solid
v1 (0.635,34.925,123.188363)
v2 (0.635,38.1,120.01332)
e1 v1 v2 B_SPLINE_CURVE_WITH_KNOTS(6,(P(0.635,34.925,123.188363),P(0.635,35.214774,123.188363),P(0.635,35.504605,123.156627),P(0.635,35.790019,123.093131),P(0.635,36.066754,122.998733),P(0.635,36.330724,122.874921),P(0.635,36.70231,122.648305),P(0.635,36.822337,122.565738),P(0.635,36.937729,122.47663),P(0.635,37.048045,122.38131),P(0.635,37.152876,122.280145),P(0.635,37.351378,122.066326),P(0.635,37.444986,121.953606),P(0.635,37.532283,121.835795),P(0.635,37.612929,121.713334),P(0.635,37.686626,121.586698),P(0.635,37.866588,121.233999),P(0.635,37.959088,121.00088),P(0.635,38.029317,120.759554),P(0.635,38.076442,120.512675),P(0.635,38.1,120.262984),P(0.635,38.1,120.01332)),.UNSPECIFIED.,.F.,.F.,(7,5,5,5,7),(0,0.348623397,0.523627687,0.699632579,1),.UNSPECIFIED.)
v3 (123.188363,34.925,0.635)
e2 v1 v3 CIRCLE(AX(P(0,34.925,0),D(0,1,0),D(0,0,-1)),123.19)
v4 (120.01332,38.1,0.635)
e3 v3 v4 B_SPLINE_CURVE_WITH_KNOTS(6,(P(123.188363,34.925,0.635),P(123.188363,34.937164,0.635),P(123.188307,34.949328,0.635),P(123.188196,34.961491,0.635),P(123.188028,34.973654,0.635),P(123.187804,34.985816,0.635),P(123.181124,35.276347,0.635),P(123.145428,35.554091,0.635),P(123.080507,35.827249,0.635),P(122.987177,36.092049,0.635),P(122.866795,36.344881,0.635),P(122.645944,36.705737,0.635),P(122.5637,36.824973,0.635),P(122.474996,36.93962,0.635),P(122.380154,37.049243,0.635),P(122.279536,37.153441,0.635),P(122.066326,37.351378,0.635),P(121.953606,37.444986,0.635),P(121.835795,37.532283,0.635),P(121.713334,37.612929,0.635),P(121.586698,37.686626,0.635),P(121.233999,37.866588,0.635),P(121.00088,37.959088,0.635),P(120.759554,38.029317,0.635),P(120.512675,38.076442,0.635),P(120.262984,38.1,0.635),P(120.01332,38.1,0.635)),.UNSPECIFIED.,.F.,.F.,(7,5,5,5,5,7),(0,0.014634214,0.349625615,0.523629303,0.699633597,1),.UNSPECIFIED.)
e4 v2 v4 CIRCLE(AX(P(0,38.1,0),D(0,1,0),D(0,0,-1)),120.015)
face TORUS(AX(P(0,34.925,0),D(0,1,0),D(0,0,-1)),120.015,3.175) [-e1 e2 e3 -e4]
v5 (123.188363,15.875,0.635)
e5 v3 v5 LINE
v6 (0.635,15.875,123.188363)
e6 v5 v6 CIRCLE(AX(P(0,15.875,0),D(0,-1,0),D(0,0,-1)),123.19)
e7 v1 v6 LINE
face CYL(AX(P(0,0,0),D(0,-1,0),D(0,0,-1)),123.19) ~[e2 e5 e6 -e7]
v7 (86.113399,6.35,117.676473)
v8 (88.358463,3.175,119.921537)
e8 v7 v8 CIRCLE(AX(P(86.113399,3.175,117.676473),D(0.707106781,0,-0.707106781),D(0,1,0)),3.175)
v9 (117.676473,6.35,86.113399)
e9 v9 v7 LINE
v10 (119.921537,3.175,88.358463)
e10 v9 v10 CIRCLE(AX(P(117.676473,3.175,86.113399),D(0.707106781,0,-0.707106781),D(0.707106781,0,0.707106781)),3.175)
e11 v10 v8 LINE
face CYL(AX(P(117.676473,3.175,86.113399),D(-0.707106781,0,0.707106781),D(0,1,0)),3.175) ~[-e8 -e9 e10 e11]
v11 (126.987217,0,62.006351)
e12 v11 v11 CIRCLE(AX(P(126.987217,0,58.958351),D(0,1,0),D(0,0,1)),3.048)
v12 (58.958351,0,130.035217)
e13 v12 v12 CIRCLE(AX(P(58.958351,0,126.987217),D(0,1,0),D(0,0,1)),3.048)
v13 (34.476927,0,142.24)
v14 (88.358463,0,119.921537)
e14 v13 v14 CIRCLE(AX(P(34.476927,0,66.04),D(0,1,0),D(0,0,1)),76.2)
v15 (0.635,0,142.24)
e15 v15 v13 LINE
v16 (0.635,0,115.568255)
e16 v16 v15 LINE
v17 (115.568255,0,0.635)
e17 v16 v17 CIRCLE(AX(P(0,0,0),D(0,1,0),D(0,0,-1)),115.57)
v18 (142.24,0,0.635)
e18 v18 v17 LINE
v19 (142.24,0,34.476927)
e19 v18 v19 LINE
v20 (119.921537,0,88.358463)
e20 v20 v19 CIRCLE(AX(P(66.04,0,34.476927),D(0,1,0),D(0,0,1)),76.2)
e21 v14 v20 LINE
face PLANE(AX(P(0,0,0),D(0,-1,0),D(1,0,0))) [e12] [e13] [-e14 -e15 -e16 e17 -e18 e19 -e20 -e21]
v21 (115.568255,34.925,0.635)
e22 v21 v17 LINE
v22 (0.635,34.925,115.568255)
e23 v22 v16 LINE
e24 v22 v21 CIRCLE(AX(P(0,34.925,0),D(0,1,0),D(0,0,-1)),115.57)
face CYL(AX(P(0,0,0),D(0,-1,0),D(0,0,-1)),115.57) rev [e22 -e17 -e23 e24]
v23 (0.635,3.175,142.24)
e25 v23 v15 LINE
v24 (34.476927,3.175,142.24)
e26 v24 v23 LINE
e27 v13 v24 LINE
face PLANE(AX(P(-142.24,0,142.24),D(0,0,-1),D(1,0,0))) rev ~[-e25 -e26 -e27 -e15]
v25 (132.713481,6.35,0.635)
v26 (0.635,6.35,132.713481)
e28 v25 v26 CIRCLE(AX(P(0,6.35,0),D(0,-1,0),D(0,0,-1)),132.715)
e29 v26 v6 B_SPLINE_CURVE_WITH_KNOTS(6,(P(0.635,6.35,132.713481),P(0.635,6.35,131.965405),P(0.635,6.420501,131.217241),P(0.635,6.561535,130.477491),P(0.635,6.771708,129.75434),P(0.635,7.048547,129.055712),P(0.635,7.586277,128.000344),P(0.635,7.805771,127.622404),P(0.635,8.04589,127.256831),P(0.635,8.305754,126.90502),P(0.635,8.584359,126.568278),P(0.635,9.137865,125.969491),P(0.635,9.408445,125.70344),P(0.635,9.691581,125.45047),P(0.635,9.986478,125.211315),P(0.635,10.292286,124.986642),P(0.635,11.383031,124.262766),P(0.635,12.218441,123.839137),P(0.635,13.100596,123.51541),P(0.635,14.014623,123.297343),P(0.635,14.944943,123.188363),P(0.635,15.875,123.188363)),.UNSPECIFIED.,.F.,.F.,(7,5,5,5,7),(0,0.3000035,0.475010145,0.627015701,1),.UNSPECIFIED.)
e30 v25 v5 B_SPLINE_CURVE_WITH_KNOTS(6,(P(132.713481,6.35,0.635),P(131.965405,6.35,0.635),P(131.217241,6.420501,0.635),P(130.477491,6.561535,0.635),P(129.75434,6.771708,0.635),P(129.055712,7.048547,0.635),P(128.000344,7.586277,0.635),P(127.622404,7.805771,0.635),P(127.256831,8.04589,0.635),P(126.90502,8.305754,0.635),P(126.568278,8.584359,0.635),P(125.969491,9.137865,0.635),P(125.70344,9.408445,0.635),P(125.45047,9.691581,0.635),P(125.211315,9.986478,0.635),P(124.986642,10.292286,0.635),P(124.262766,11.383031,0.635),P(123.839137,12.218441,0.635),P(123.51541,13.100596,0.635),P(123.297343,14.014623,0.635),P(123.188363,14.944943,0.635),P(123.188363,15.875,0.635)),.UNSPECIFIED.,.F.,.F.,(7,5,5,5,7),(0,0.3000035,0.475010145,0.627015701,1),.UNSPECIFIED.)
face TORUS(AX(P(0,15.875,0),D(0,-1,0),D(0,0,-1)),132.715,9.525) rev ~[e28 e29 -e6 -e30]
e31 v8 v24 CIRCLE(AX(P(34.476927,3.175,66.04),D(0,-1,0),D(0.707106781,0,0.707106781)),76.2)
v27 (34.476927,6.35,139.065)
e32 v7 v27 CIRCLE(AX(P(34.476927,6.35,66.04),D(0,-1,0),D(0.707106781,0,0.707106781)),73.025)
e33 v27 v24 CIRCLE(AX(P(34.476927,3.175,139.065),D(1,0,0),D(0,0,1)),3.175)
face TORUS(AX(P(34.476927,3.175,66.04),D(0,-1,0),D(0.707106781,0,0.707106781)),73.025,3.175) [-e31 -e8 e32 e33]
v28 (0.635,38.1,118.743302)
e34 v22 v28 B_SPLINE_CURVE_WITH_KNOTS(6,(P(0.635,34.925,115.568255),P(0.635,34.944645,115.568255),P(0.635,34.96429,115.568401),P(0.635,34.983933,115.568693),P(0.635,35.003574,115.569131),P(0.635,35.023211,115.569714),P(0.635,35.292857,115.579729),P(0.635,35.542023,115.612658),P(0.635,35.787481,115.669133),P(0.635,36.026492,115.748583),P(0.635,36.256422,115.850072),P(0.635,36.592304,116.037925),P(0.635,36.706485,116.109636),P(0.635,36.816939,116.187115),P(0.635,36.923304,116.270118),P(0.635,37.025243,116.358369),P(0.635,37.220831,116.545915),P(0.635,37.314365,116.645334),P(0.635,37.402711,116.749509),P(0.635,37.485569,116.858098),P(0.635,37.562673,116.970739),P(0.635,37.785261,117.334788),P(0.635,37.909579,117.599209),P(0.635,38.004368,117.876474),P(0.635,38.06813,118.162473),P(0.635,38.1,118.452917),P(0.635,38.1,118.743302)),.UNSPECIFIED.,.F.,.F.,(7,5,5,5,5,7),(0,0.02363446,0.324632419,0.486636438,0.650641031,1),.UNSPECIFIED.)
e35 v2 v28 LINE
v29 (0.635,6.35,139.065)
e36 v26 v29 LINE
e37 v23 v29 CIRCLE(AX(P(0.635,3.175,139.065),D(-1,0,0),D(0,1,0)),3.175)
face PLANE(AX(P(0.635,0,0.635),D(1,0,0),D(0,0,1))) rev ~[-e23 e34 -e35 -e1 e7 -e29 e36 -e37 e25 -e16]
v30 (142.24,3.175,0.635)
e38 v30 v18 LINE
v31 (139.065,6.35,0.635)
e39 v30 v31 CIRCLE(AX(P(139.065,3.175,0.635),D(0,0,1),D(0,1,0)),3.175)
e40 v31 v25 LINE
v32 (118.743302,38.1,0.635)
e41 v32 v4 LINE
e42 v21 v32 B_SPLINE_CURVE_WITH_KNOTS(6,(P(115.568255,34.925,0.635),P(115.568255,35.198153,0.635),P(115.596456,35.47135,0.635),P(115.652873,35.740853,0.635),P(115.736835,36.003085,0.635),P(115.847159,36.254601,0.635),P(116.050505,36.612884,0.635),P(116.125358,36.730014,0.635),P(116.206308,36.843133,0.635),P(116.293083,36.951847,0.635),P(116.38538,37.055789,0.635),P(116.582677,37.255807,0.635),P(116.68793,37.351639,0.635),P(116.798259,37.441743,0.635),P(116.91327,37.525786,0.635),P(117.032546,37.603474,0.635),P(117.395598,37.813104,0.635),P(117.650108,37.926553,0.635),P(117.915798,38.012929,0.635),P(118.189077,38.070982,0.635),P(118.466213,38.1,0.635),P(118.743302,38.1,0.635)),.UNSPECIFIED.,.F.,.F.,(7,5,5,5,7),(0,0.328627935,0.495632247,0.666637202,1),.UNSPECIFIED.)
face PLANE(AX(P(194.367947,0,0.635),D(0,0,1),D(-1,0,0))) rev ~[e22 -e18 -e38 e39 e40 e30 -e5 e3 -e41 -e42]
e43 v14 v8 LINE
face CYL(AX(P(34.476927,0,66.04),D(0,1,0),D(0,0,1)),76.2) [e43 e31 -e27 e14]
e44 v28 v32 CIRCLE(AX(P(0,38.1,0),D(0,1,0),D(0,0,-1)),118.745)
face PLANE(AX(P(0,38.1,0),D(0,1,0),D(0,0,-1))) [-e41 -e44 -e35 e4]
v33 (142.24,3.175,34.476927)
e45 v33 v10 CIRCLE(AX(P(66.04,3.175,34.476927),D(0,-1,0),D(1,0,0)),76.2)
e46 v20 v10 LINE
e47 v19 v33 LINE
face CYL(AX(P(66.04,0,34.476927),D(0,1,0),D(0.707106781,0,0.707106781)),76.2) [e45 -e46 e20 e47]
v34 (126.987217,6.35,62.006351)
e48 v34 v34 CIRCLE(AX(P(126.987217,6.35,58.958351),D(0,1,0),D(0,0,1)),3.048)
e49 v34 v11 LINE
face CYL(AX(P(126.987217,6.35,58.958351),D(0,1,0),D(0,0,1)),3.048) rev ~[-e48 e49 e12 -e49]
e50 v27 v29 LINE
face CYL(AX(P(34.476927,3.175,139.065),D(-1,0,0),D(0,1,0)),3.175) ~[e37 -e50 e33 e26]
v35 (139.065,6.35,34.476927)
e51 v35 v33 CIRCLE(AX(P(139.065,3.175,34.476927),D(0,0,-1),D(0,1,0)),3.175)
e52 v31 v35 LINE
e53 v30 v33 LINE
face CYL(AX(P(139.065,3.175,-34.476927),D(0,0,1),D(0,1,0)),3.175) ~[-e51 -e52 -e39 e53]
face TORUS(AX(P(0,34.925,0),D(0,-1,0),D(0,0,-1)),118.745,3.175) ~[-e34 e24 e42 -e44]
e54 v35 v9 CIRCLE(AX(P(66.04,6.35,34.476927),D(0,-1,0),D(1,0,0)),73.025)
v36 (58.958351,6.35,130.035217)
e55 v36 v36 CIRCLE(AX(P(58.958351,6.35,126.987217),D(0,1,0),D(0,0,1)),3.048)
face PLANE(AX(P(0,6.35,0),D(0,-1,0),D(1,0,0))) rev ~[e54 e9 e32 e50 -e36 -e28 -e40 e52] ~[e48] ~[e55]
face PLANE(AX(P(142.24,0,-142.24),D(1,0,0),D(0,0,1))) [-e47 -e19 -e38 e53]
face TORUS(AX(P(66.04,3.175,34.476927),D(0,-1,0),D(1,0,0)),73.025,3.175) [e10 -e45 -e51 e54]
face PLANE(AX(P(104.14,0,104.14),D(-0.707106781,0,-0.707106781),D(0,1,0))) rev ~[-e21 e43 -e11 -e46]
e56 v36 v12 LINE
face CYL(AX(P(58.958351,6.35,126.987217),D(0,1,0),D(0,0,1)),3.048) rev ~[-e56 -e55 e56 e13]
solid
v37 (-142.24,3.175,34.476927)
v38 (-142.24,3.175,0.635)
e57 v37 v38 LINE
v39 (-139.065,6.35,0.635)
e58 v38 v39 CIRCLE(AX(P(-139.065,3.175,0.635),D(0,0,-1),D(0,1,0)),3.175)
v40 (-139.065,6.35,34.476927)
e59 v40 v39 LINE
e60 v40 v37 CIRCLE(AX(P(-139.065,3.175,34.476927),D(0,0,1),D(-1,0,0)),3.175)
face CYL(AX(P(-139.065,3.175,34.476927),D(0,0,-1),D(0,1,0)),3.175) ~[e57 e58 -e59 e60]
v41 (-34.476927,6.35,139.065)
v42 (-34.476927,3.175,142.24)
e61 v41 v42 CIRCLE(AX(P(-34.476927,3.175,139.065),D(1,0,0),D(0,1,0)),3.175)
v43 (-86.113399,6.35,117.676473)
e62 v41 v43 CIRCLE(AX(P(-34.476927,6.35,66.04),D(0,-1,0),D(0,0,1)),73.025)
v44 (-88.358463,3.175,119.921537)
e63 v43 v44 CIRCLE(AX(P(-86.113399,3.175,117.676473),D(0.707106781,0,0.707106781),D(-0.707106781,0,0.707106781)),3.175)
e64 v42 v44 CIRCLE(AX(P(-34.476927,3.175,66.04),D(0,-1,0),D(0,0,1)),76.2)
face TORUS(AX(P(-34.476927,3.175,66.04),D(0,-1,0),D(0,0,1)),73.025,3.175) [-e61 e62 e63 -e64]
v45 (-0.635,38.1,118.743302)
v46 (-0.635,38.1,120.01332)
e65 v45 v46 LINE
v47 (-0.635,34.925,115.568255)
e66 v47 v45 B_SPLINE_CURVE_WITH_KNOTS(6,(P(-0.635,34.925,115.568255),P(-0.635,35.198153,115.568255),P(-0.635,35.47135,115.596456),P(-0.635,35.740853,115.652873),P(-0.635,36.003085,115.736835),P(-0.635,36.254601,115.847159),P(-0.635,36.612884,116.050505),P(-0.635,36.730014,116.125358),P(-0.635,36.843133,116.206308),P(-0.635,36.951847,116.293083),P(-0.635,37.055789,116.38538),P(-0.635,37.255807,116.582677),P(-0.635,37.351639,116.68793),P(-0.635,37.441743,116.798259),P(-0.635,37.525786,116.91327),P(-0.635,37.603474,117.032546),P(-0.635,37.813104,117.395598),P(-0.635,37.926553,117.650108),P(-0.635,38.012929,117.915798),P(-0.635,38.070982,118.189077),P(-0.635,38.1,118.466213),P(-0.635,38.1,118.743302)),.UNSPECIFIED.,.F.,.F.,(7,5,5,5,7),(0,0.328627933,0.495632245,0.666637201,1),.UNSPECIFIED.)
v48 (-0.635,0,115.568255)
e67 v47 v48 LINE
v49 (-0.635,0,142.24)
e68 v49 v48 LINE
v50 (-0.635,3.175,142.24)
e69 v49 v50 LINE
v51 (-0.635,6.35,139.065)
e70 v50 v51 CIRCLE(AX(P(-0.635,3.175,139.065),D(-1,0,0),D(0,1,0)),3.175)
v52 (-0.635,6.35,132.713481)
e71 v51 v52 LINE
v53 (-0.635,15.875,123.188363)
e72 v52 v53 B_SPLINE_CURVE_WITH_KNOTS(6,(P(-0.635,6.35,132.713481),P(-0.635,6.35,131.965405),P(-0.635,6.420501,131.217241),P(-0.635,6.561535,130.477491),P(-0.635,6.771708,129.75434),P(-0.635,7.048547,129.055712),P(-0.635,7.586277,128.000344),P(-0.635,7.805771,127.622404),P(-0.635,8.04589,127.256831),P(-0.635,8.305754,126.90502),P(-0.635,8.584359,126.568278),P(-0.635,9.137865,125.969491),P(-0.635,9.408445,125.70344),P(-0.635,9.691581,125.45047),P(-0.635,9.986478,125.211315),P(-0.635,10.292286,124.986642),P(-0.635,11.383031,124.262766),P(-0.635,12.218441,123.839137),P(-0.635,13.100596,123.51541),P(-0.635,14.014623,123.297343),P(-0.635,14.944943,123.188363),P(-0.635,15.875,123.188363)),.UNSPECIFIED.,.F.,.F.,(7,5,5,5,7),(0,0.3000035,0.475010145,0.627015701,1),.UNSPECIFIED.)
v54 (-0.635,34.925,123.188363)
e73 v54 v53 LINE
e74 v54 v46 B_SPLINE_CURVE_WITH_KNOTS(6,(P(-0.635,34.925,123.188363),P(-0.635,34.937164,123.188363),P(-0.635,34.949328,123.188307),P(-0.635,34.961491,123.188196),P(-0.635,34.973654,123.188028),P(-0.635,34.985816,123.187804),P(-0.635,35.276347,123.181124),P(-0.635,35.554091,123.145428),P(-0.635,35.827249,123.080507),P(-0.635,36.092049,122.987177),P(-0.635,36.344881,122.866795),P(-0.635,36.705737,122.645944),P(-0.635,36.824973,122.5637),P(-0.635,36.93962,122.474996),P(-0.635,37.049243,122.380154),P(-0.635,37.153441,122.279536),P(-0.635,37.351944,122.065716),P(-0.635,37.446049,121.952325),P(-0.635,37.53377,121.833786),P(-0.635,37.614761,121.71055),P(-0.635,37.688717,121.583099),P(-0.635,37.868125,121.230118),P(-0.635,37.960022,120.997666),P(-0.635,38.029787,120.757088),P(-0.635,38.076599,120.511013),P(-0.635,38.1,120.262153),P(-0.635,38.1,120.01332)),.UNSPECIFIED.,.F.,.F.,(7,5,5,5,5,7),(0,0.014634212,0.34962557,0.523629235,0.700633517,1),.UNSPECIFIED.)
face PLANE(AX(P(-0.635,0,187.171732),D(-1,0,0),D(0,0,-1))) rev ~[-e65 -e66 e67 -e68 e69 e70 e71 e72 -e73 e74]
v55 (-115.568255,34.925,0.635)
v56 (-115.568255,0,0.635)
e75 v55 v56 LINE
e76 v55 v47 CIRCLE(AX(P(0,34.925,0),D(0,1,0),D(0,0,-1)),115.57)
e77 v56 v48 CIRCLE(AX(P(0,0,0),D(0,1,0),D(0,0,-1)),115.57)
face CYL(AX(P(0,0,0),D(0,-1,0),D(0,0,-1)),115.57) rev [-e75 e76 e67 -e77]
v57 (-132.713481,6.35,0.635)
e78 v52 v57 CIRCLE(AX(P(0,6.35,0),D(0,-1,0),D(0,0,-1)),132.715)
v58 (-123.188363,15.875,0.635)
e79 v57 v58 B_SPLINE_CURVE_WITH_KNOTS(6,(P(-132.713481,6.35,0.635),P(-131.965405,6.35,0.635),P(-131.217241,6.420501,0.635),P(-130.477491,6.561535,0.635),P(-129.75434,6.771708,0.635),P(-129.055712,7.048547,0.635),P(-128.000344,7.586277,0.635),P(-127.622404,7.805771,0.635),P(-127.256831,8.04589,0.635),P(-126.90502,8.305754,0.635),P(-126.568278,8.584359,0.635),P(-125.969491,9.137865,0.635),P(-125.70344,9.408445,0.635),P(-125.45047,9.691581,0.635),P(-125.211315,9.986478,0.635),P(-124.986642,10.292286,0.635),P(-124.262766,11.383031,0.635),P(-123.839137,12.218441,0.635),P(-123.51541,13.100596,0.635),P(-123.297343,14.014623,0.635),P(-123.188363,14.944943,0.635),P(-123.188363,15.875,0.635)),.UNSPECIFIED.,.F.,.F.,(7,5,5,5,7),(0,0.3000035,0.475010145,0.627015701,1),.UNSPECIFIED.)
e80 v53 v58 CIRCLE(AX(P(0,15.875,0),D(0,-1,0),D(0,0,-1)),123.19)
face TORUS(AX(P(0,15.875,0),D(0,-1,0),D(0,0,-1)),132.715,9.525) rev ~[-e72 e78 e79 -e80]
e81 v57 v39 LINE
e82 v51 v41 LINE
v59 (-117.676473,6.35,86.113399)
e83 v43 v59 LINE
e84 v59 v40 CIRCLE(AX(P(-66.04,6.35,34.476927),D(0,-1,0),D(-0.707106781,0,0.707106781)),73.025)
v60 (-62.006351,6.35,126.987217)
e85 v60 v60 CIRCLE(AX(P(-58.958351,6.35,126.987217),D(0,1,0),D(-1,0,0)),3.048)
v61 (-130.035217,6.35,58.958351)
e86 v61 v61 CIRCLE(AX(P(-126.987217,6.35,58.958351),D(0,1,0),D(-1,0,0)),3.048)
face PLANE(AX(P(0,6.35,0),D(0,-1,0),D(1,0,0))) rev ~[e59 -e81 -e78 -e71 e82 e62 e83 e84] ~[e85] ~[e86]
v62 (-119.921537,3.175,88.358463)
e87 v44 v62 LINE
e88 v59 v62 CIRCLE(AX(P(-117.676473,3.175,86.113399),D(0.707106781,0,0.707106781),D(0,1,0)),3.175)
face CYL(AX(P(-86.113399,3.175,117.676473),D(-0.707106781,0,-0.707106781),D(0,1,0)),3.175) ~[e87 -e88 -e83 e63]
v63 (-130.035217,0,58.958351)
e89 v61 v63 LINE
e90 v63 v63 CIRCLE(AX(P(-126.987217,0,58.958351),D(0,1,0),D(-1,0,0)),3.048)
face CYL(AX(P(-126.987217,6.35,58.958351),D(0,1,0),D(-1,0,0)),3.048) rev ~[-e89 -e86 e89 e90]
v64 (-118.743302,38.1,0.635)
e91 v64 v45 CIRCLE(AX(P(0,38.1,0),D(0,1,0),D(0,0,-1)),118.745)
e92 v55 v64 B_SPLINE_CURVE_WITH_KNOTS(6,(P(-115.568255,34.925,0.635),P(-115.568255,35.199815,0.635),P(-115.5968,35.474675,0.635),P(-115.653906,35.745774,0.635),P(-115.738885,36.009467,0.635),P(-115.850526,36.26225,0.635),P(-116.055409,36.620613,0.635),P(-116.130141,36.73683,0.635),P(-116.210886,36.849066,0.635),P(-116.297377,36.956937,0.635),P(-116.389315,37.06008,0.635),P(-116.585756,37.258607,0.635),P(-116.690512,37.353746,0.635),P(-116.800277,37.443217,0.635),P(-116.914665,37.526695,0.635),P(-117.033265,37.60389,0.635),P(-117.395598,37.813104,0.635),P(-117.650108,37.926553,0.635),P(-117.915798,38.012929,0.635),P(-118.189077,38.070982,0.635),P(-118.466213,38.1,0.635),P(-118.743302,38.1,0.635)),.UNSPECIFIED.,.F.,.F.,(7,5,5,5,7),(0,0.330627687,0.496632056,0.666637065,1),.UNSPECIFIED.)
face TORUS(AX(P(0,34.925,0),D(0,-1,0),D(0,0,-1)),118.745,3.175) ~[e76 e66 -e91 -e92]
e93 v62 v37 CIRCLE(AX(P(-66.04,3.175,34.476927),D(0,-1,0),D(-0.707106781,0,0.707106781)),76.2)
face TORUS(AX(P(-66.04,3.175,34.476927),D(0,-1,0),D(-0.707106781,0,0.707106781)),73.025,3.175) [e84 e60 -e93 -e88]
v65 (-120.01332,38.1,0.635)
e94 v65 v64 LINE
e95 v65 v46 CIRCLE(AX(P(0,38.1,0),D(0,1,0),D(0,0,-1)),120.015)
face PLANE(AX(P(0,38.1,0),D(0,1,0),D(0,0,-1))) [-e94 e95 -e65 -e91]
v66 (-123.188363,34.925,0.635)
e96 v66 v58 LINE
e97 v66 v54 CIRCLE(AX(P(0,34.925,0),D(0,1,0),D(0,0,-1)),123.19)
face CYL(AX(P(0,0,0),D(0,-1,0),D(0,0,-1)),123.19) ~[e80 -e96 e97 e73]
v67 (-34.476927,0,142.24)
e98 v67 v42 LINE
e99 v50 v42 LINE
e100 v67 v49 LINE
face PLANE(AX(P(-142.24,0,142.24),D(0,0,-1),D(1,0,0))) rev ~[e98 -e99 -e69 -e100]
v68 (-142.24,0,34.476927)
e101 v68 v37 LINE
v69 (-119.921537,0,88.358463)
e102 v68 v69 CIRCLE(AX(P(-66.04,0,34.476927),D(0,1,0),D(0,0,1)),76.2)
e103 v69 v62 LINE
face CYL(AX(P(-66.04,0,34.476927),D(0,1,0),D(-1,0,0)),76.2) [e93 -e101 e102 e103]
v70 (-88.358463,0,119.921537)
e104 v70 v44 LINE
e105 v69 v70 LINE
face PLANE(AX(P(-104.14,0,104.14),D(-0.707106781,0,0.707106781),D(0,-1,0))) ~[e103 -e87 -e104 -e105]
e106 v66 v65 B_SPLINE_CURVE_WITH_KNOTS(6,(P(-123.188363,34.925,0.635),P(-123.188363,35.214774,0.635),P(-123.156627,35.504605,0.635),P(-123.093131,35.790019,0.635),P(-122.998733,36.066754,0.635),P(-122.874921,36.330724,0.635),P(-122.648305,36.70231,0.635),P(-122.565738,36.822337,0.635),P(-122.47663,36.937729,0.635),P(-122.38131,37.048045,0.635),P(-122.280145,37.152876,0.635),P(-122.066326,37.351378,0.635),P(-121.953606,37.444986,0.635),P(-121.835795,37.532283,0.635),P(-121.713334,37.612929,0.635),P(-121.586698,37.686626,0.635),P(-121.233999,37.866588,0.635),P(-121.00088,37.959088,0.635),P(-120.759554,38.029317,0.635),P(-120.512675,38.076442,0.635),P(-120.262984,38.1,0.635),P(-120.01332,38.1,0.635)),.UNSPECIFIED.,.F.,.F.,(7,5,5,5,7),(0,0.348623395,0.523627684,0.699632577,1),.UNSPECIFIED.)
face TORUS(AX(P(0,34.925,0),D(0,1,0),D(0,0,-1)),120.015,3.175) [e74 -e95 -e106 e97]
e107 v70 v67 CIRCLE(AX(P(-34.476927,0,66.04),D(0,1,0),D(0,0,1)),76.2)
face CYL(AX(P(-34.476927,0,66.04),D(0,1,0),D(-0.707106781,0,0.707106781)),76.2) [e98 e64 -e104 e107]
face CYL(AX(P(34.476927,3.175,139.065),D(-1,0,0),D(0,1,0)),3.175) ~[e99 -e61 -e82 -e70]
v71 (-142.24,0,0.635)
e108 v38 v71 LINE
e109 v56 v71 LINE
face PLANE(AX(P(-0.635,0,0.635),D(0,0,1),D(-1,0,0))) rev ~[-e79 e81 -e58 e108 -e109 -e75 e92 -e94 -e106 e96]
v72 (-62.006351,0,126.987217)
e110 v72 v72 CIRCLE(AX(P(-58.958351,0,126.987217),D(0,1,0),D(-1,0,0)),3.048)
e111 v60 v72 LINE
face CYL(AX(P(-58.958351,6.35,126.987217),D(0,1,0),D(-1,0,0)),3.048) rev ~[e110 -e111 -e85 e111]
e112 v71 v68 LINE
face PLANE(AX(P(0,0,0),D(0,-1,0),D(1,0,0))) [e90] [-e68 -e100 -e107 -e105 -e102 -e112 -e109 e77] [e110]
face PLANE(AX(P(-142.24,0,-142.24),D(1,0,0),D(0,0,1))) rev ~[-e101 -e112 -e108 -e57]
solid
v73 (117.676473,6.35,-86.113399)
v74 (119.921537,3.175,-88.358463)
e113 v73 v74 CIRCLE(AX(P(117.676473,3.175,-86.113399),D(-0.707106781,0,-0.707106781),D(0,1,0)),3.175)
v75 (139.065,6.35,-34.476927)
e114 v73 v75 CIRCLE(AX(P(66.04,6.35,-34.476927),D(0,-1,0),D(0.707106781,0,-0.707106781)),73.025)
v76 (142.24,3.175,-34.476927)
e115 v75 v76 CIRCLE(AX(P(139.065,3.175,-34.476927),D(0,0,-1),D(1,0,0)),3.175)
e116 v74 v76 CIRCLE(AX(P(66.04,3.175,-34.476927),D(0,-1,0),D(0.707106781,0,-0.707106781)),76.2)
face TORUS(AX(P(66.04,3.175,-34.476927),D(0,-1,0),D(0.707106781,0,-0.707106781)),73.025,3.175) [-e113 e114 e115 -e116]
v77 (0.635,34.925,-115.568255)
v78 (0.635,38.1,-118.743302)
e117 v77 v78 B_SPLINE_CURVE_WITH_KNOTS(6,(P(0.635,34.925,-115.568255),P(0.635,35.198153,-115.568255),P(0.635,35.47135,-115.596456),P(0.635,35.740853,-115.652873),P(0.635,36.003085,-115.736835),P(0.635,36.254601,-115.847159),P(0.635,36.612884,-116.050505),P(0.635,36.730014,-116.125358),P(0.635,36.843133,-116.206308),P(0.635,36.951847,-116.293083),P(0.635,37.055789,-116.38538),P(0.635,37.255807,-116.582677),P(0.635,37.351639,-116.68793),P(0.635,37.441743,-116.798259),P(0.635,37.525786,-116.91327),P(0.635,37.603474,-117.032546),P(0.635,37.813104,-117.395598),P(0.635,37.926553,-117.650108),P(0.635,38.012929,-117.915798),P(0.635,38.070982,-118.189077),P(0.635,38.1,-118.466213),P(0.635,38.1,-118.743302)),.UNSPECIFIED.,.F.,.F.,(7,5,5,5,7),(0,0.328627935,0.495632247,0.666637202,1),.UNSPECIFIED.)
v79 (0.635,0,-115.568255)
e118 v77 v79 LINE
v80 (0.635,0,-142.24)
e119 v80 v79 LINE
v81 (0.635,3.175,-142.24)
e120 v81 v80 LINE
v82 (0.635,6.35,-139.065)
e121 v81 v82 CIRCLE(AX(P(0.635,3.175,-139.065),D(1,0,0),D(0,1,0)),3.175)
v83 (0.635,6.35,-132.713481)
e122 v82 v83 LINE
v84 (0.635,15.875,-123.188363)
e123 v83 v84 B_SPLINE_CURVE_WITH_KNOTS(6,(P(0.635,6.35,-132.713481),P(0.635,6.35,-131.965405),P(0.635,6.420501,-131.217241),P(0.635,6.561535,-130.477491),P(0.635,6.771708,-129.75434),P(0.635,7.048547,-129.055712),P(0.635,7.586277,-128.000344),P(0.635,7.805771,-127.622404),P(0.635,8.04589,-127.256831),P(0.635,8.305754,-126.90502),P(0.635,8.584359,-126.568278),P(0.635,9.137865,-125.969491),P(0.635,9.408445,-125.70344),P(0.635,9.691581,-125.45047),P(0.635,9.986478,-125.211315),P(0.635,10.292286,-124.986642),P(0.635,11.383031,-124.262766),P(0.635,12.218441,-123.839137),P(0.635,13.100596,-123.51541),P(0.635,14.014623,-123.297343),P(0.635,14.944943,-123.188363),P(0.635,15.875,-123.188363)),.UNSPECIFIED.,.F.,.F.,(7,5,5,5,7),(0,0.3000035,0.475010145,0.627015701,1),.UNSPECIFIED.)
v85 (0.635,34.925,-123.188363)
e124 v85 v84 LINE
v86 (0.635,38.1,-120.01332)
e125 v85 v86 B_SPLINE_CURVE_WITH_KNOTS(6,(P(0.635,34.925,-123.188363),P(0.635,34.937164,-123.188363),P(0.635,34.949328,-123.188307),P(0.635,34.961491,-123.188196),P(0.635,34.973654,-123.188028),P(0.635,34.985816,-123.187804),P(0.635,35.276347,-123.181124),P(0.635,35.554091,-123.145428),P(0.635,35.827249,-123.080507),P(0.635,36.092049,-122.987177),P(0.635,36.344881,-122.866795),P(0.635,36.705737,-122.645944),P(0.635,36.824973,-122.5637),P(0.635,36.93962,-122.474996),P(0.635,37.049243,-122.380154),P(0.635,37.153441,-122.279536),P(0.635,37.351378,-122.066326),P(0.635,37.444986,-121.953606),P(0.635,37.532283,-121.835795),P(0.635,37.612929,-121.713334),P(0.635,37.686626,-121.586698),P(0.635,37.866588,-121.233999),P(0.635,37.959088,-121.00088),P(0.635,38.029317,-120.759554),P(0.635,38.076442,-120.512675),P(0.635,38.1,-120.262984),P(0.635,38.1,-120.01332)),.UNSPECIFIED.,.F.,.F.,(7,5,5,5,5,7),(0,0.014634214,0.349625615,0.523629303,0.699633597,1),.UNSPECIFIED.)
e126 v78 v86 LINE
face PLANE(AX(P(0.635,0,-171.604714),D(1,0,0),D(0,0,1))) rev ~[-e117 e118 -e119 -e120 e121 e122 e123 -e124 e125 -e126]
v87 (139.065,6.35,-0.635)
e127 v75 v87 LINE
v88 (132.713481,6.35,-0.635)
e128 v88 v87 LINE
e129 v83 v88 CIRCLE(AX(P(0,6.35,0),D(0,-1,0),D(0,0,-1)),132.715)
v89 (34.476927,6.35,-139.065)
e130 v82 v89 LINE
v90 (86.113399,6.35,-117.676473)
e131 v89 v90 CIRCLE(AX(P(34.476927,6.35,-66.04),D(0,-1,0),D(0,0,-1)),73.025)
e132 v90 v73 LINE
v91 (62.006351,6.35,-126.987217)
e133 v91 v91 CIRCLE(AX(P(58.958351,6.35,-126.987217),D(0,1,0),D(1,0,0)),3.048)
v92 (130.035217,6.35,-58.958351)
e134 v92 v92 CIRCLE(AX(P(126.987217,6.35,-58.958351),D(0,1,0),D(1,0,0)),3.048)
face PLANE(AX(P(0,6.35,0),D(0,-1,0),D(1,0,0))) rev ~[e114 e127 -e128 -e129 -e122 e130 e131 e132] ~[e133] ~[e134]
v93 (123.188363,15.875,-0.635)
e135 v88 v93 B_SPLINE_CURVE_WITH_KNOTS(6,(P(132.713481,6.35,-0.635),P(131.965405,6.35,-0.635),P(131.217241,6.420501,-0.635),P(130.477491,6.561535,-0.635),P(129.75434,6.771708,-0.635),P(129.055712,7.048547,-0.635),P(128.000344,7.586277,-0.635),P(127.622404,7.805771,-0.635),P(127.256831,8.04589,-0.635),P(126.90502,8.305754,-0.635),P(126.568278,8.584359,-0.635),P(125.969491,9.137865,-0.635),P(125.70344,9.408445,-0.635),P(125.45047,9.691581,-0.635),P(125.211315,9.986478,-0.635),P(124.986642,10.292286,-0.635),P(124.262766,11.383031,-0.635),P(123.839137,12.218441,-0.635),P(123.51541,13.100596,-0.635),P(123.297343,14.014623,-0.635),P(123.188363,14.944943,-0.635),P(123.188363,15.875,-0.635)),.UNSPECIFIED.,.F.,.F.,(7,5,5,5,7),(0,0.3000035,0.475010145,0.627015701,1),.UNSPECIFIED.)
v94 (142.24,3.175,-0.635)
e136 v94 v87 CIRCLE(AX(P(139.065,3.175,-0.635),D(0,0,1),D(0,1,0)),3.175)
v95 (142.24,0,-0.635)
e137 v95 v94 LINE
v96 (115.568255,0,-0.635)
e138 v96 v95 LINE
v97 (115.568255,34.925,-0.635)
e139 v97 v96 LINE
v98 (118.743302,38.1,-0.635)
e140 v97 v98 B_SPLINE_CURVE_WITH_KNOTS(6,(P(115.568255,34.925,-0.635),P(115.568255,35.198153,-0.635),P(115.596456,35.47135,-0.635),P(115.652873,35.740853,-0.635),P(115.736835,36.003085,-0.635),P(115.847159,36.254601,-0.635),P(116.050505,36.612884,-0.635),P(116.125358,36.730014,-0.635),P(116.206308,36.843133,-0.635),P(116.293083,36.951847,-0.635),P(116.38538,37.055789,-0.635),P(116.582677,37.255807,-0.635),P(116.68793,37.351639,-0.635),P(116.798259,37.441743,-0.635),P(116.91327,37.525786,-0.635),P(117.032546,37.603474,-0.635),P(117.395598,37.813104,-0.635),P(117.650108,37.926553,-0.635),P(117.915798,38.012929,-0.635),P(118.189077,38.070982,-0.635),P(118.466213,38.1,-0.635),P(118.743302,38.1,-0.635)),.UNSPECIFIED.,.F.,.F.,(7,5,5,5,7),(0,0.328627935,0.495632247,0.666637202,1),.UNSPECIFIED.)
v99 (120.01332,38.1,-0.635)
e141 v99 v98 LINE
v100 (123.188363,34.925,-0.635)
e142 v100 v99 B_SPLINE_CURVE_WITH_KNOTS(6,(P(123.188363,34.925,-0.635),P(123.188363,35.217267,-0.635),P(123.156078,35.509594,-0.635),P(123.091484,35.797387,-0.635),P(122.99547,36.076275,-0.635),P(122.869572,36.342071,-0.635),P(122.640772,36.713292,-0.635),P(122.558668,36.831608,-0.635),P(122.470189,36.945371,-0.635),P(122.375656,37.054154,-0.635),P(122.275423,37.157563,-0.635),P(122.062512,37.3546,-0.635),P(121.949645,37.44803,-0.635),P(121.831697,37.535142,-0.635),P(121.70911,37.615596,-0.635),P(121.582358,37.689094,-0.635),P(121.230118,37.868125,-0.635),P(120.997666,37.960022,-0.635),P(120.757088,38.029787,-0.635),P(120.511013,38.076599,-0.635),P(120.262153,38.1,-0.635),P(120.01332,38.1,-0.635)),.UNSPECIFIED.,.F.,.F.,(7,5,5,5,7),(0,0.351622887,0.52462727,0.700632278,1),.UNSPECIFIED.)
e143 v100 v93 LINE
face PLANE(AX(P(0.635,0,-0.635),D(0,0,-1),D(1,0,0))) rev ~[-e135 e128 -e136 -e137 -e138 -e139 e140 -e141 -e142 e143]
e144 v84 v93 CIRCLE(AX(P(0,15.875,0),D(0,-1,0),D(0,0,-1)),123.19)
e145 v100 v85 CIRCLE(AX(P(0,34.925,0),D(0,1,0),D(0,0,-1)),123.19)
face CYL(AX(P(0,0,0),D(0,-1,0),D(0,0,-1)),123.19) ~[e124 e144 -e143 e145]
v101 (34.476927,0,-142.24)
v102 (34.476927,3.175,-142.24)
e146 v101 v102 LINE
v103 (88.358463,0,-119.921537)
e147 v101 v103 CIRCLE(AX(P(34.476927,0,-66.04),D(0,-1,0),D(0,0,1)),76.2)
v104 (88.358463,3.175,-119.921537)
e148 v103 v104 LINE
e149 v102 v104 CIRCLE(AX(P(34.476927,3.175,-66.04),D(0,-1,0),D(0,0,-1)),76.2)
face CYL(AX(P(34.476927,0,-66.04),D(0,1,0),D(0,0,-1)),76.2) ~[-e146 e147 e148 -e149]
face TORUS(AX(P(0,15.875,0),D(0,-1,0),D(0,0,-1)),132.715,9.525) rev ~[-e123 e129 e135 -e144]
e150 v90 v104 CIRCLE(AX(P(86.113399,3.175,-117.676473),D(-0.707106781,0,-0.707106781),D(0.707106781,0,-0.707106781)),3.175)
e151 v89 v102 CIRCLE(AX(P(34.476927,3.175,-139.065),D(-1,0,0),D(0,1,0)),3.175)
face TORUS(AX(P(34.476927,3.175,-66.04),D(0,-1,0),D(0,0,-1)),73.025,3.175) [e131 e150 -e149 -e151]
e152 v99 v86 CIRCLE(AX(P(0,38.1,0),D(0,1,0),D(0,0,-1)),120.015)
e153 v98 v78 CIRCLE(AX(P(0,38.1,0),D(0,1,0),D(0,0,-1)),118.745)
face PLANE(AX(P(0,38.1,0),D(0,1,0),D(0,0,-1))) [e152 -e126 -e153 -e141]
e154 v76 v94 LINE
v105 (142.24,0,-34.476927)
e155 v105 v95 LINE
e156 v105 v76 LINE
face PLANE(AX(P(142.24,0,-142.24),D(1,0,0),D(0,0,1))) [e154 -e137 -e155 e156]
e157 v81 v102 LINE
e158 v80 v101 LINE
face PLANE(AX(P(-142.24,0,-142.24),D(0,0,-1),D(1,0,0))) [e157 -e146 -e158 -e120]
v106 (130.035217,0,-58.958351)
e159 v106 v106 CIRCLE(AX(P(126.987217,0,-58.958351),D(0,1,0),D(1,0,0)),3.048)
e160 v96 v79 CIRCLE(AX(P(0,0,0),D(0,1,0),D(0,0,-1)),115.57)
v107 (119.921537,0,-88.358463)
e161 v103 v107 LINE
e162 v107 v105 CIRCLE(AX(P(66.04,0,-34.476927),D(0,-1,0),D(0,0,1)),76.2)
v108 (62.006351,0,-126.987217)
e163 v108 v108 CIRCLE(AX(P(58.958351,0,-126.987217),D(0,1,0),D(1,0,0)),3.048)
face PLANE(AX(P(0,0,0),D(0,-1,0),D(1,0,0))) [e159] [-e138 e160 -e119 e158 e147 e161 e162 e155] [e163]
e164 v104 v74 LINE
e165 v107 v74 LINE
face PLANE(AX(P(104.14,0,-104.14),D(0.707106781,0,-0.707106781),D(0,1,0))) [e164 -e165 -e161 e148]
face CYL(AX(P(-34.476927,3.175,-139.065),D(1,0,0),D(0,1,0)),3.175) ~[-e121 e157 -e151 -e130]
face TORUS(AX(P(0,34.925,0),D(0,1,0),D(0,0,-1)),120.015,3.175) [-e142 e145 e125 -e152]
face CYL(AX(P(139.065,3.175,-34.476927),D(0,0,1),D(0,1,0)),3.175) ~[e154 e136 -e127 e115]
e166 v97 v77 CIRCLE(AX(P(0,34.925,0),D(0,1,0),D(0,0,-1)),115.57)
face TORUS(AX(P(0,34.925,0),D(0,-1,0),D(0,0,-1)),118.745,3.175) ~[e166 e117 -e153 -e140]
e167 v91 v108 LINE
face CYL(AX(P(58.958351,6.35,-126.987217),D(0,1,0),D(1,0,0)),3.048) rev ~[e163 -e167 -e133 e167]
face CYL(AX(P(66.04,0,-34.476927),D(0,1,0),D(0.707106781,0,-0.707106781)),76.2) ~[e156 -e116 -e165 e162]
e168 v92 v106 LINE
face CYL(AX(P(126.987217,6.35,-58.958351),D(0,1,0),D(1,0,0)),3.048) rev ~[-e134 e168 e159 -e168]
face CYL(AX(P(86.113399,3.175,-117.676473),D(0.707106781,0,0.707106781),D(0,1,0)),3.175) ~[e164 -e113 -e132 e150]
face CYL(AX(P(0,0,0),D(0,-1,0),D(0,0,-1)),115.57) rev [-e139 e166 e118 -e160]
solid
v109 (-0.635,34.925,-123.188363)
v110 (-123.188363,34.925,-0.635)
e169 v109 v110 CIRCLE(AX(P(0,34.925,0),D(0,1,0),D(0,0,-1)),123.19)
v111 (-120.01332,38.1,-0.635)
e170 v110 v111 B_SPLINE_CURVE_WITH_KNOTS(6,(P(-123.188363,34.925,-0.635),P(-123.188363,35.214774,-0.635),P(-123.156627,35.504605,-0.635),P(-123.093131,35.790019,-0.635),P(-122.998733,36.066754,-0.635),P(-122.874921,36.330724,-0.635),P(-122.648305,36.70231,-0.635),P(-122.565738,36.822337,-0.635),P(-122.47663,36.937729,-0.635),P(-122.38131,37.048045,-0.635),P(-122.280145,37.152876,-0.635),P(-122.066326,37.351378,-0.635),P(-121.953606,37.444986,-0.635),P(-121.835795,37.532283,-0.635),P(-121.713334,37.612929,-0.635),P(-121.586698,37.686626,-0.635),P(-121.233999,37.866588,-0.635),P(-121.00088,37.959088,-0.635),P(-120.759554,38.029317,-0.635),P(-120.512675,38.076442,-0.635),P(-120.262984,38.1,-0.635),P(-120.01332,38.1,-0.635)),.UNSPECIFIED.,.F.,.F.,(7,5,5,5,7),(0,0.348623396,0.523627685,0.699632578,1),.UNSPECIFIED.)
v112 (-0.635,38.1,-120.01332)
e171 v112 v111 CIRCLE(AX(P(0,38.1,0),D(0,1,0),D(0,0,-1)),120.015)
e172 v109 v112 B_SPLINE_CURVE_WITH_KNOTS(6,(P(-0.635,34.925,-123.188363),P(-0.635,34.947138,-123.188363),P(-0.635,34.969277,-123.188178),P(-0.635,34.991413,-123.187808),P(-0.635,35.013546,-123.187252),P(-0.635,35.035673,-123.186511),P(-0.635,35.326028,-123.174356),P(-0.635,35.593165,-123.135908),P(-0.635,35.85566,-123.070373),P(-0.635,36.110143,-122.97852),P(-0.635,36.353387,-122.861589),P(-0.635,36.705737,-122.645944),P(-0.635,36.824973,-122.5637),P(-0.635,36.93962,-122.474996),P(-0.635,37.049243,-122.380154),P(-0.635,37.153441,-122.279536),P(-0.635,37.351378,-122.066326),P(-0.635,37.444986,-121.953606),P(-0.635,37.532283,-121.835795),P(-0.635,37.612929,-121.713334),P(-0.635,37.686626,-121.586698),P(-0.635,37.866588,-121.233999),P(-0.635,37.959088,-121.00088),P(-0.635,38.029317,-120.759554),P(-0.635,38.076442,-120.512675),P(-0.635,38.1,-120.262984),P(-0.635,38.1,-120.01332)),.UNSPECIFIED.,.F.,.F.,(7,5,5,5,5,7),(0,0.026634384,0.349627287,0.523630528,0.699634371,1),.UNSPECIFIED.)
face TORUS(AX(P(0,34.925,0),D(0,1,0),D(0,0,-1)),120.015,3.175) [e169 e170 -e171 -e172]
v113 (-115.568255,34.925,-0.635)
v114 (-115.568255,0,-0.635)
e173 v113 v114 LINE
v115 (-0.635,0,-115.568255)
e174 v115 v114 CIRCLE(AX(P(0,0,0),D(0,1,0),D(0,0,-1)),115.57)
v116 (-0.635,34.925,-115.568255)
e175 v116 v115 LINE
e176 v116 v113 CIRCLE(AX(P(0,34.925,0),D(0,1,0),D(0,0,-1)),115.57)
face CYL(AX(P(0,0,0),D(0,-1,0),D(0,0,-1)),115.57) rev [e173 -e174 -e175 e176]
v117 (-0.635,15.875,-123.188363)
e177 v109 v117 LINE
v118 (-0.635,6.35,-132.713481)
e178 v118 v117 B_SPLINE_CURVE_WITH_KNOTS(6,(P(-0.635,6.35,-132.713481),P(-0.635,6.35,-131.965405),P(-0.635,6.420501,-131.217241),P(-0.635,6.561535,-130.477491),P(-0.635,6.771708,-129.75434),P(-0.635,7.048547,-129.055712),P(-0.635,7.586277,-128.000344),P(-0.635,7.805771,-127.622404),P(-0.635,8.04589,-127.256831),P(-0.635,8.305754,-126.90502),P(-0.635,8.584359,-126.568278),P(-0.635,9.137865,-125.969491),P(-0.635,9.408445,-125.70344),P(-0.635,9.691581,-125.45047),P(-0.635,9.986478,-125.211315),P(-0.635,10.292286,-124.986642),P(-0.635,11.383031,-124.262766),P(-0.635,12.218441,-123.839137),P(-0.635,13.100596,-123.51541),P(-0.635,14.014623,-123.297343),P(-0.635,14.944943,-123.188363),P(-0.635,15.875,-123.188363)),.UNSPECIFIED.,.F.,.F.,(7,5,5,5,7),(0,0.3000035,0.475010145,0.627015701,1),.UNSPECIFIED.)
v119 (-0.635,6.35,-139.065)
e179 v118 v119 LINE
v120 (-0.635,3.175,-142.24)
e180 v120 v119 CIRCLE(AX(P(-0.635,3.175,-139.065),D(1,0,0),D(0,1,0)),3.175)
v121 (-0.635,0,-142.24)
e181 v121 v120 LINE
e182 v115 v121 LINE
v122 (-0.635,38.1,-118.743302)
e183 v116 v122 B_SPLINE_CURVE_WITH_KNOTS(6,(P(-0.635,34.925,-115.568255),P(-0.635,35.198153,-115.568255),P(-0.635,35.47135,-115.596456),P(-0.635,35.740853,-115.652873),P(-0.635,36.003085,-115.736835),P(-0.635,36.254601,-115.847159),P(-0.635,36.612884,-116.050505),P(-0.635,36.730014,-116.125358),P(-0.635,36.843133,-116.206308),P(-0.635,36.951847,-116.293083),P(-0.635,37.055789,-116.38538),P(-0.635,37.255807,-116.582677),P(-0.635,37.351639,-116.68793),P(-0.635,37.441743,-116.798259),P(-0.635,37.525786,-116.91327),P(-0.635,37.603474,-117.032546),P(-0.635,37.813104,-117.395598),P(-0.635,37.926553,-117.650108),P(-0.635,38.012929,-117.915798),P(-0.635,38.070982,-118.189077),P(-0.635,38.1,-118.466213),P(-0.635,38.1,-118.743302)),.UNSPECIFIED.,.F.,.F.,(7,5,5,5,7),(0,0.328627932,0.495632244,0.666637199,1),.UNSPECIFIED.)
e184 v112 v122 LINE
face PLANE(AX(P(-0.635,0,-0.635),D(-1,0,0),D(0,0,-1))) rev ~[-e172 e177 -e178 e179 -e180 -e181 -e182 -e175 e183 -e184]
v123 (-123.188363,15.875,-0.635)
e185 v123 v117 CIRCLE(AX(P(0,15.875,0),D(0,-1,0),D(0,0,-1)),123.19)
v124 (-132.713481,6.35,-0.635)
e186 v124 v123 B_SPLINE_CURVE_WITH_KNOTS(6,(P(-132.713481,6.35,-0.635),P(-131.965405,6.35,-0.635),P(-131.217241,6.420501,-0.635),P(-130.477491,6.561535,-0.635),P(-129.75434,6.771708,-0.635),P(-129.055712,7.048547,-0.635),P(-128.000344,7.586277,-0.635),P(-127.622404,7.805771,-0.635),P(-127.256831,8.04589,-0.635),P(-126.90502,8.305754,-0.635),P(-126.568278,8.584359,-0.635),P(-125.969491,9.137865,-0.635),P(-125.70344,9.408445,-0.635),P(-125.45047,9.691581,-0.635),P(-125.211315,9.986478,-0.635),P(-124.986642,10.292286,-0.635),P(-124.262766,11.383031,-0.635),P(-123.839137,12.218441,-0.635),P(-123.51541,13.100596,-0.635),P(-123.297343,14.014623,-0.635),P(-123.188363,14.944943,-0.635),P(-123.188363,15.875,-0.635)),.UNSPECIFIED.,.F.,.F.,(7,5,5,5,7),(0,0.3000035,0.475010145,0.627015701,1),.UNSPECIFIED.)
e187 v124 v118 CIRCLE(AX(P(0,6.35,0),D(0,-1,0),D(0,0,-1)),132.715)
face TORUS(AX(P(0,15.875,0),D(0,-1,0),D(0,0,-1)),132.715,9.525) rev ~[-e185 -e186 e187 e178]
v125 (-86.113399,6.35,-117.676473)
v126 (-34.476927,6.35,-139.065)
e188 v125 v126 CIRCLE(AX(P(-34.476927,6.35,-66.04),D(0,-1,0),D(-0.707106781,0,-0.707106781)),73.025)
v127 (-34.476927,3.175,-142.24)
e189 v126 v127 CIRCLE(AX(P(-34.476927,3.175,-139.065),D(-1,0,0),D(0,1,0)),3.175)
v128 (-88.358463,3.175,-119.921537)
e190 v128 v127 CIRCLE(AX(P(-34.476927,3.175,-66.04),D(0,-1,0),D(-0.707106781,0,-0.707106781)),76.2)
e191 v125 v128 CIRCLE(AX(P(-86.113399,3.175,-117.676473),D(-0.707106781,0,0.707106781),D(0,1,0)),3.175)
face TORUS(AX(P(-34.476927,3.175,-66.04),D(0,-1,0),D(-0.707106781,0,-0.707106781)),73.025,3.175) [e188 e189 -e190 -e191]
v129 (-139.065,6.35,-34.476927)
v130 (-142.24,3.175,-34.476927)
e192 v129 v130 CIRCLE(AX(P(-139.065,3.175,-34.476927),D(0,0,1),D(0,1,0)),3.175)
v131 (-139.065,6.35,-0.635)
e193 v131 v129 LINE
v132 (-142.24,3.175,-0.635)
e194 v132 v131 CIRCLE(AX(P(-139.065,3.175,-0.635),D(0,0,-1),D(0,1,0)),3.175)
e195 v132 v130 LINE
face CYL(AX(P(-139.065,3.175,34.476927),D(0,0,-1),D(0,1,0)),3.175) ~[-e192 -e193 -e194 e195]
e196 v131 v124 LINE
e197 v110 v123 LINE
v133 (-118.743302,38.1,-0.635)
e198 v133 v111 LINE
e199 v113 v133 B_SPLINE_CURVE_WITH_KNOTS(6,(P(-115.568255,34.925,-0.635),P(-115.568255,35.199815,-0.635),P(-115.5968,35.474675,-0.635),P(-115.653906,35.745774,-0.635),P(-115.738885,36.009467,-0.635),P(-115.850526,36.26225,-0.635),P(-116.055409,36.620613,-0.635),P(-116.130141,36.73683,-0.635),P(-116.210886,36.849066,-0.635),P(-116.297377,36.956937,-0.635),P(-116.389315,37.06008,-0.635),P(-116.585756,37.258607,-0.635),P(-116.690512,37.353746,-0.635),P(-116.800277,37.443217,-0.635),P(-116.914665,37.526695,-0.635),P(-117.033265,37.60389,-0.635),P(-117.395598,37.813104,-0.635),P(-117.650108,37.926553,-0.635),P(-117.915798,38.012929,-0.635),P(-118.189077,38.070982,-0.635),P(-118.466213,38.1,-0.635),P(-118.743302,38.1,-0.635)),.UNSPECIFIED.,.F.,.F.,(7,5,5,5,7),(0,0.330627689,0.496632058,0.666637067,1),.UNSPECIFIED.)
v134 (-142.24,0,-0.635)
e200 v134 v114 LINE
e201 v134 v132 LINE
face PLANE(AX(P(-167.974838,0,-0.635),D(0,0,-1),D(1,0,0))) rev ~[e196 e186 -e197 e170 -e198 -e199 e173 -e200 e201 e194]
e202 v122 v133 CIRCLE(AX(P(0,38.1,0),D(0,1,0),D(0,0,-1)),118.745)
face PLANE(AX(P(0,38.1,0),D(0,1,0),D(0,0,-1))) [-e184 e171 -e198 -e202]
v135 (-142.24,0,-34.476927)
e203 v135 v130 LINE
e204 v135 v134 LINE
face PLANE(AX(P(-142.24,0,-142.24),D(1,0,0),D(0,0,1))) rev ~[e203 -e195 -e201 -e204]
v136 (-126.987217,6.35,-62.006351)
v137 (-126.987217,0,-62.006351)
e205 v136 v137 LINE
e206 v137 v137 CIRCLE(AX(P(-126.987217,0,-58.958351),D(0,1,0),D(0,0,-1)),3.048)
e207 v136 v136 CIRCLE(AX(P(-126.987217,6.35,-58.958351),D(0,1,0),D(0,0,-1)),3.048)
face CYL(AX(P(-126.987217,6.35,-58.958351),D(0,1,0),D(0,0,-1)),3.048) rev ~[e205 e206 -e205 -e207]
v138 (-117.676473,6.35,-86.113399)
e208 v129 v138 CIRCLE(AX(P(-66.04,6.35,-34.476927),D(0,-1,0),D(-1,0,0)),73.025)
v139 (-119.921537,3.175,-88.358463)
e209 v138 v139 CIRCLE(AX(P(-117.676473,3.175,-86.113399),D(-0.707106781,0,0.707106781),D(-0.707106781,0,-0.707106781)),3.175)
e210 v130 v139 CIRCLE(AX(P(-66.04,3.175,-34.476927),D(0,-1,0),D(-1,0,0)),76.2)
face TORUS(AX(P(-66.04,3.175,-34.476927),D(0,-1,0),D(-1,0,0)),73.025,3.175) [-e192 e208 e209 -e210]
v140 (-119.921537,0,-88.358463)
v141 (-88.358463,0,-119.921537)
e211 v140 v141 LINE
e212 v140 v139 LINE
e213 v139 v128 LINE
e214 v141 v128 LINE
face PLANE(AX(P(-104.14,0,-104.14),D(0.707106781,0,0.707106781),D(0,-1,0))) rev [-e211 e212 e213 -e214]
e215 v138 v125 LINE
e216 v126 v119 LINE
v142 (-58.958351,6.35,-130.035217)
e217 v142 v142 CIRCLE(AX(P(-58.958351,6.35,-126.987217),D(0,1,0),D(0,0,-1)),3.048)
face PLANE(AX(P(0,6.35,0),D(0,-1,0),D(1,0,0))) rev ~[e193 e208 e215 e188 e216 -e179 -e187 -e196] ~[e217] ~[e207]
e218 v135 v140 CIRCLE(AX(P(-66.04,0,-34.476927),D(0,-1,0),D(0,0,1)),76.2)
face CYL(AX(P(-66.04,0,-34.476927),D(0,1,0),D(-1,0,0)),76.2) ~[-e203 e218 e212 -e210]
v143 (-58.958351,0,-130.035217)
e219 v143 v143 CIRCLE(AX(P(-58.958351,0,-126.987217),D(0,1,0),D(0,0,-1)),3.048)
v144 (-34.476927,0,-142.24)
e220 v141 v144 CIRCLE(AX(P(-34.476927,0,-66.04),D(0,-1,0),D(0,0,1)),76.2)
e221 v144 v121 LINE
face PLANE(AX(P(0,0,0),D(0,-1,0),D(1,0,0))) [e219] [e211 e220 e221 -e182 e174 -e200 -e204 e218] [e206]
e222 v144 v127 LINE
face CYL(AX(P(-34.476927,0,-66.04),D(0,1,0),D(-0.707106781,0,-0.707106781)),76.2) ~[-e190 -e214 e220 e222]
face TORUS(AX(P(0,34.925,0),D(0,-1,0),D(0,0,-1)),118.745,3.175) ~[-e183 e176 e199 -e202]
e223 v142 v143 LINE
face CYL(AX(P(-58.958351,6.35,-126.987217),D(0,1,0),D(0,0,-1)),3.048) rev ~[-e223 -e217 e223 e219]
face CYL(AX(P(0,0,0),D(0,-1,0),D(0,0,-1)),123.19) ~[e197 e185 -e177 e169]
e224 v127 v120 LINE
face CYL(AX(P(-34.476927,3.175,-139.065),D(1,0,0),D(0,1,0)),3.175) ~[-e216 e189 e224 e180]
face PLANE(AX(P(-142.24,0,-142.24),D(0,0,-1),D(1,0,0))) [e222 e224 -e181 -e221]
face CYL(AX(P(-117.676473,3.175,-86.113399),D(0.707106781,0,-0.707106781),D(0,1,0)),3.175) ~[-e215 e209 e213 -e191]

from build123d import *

# Parameters (mm, degrees)
SKETCH1_R           = 123.19
SKETCH1_R_2         = 115.57
BOSS_EXTRUDE1_DEPTH = 38.1
SKETCH2_W           = 284.48
SKETCH2_H           = 284.48
SKETCH2_R           = 123.19
BOSS_EXTRUDE2_DEPTH = 6.35
CHAMFER1_SIZE       = 76.2
SKETCH3_R           = 3.048
CUT_EXTRUDE1_DEPTH  = 204.647974947
CIRPATTERN1_COUNT   = 4
FILLET1_R           = 9.525
FILLET2_R           = 76.2
FILLET3_R           = 3.175
FILLET4_R           = 3.175
CUT_EXTRUDE2_DEPTH  = 205.734084137


with BuildPart() as part:
    # Sketch1 → Boss-Extrude1 (new body)
    with BuildSketch(Plane(origin=(0, 0, 0), x_dir=(1, 0, 0), z_dir=(0, 1, 0))):
        with Locations(Location((0, 0, 0), (0, 0, 90))):
            Circle(SKETCH1_R)
        with Locations(Location((0, 0, 0), (0, 0, 90))):
            Circle(SKETCH1_R_2, mode=Mode.SUBTRACT)
    extrude(amount=BOSS_EXTRUDE1_DEPTH)

    # Sketch2 → Boss-Extrude2 (add)
    with BuildSketch(Plane.XZ):
        Rectangle(SKETCH2_W, SKETCH2_H)
        with Locations(Location((0, 0, 0), (0, 0, 270))):
            Circle(SKETCH2_R, mode=Mode.SUBTRACT)
    extrude(amount=-BOSS_EXTRUDE2_DEPTH)

    # Chamfer1
    chamfer1_edges = [part.edges().sort_by_distance(p)[0] for p in [
        (142.24, 3.175, 142.24),
        (142.24, 3.175, -142.24),
        (-142.24, 3.175, -142.24),
        (-142.24, 3.175, 142.24),
    ]]
    chamfer(chamfer1_edges, length=CHAMFER1_SIZE)

    # Sketch3 → Cut-Extrude1 (cut, through all)
    with BuildSketch(Plane(origin=(0, 6.35, 0), x_dir=(1, 0, 0), z_dir=(0, 1, 0))):
        with Locations(Location((58.958350921, -126.987217368, 0), (0, 0, 270))):
            Circle(SKETCH3_R)
        with Locations(Location((126.987217368, -58.958350921, 0), (0, 0, 270))):
            Circle(SKETCH3_R)
    cut_extrude1 = extrude(amount=-CUT_EXTRUDE1_DEPTH, mode=Mode.SUBTRACT)

    # CirPattern1: Cut-Extrude1 ×4 about axis
    cirpattern1_axis = Axis((0, 0, 0), (0, 1, 0))
    for i in range(1, CIRPATTERN1_COUNT):
        add(cut_extrude1.rotate(cirpattern1_axis, i * 360 / CIRPATTERN1_COUNT), mode=Mode.SUBTRACT)

    # Fillet1
    fillet1_edges = [part.edges().sort_by_distance(p)[0] for p in [
        (0, 6.35, 123.19),
    ]]
    fillet(fillet1_edges, radius=FILLET1_R)

    # Fillet2
    fillet2_edges = [part.edges().sort_by_distance(p)[0] for p in [
        (-142.24, 3.175, 66.04),
        (-142.24, 3.175, -66.04),
        (66.04, 3.175, -142.24),
        (-66.04, 3.175, -142.24),
        (142.24, 3.175, 66.04),
        (142.24, 3.175, -66.04),
        (-66.04, 3.175, 142.24),
        (66.04, 3.175, 142.24),
    ]]
    fillet(fillet2_edges, radius=FILLET2_R)

    # Fillet3
    fillet3_edges = [part.edges().sort_by_distance(p)[0] for p in [
        (0, 38.1, 123.19),
        (0, 38.1, 115.57),
    ]]
    fillet(fillet3_edges, radius=FILLET3_R)

    # Fillet4
    fillet4_edges = [part.edges().sort_by_distance(p)[0] for p in [
        (0, 6.35, -142.24),
        (-104.14, 6.35, 104.14),
        (0, 6.35, 142.24),
        (104.14, 6.35, 104.14),
        (142.24, 6.35, 0),
        (104.14, 6.35, -104.14),
        (-136.439620377, 6.35, 63.637404093),
        (-63.637404093, 6.35, 136.439620377),
        (63.637404093, 6.35, 136.439620377),
        (136.439620377, 6.35, 63.637404093),
        (136.439620377, 6.35, -63.637404093),
        (63.637404093, 6.35, -136.439620377),
        (-63.637404093, 6.35, -136.439620377),
        (-136.439620377, 6.35, -63.637404093),
        (-142.24, 6.35, 0),
        (-104.14, 6.35, -104.14),
    ]]
    fillet(fillet4_edges, radius=FILLET4_R)

    # Sketch4 → Cut-Extrude2 (cut, through all)
    with BuildSketch(Plane.XZ):
        Polygon((0.635, -171.604714128), (0.635, -0.635), (194.367947329, -0.635), (194.367947329, 0.635), (0.635, 0.635), (0.635, 187.171732047), (-0.635, 187.171732047), (-0.635, 0.635), (-167.974838284, 0.635), (-167.974838284, -0.635), (-0.635, -0.635), (-0.635, -171.604714128), align=None)
    extrude(amount=-CUT_EXTRUDE2_DEPTH, mode=Mode.SUBTRACT)


with BuildPart() as cut_extrude2_piece_1:
    # of the separate pieces the step leaves, piece 1, a body of its own (cut_extrude2_pieces)
    add(part.part.solids().sort_by_distance((-86.113399243, 6.35, -117.676472696))[0])


with BuildPart() as cut_extrude2_piece_2:
    # of the separate pieces the step leaves, piece 2, a body of its own (cut_extrude2_pieces)
    add(part.part.solids().sort_by_distance((-132.713480853, 6.35, 0.635))[0])


with BuildPart() as cut_extrude2_piece_3:
    # of the separate pieces the step leaves, piece 3, a body of its own (cut_extrude2_pieces)
    add(part.part.solids().sort_by_distance((0.635, 6.35, -139.065))[0])


with BuildPart() as cut_extrude2_piece_4:
    # of the separate pieces the step leaves, piece 4, a body of its own (cut_extrude2_pieces)
    add(part.part.solids().sort_by_distance((132.713480853, 6.35, 0.635))[0])


solid = Compound([cut_extrude2_piece_1.part, cut_extrude2_piece_2.part, cut_extrude2_piece_3.part, cut_extrude2_piece_4.part])
